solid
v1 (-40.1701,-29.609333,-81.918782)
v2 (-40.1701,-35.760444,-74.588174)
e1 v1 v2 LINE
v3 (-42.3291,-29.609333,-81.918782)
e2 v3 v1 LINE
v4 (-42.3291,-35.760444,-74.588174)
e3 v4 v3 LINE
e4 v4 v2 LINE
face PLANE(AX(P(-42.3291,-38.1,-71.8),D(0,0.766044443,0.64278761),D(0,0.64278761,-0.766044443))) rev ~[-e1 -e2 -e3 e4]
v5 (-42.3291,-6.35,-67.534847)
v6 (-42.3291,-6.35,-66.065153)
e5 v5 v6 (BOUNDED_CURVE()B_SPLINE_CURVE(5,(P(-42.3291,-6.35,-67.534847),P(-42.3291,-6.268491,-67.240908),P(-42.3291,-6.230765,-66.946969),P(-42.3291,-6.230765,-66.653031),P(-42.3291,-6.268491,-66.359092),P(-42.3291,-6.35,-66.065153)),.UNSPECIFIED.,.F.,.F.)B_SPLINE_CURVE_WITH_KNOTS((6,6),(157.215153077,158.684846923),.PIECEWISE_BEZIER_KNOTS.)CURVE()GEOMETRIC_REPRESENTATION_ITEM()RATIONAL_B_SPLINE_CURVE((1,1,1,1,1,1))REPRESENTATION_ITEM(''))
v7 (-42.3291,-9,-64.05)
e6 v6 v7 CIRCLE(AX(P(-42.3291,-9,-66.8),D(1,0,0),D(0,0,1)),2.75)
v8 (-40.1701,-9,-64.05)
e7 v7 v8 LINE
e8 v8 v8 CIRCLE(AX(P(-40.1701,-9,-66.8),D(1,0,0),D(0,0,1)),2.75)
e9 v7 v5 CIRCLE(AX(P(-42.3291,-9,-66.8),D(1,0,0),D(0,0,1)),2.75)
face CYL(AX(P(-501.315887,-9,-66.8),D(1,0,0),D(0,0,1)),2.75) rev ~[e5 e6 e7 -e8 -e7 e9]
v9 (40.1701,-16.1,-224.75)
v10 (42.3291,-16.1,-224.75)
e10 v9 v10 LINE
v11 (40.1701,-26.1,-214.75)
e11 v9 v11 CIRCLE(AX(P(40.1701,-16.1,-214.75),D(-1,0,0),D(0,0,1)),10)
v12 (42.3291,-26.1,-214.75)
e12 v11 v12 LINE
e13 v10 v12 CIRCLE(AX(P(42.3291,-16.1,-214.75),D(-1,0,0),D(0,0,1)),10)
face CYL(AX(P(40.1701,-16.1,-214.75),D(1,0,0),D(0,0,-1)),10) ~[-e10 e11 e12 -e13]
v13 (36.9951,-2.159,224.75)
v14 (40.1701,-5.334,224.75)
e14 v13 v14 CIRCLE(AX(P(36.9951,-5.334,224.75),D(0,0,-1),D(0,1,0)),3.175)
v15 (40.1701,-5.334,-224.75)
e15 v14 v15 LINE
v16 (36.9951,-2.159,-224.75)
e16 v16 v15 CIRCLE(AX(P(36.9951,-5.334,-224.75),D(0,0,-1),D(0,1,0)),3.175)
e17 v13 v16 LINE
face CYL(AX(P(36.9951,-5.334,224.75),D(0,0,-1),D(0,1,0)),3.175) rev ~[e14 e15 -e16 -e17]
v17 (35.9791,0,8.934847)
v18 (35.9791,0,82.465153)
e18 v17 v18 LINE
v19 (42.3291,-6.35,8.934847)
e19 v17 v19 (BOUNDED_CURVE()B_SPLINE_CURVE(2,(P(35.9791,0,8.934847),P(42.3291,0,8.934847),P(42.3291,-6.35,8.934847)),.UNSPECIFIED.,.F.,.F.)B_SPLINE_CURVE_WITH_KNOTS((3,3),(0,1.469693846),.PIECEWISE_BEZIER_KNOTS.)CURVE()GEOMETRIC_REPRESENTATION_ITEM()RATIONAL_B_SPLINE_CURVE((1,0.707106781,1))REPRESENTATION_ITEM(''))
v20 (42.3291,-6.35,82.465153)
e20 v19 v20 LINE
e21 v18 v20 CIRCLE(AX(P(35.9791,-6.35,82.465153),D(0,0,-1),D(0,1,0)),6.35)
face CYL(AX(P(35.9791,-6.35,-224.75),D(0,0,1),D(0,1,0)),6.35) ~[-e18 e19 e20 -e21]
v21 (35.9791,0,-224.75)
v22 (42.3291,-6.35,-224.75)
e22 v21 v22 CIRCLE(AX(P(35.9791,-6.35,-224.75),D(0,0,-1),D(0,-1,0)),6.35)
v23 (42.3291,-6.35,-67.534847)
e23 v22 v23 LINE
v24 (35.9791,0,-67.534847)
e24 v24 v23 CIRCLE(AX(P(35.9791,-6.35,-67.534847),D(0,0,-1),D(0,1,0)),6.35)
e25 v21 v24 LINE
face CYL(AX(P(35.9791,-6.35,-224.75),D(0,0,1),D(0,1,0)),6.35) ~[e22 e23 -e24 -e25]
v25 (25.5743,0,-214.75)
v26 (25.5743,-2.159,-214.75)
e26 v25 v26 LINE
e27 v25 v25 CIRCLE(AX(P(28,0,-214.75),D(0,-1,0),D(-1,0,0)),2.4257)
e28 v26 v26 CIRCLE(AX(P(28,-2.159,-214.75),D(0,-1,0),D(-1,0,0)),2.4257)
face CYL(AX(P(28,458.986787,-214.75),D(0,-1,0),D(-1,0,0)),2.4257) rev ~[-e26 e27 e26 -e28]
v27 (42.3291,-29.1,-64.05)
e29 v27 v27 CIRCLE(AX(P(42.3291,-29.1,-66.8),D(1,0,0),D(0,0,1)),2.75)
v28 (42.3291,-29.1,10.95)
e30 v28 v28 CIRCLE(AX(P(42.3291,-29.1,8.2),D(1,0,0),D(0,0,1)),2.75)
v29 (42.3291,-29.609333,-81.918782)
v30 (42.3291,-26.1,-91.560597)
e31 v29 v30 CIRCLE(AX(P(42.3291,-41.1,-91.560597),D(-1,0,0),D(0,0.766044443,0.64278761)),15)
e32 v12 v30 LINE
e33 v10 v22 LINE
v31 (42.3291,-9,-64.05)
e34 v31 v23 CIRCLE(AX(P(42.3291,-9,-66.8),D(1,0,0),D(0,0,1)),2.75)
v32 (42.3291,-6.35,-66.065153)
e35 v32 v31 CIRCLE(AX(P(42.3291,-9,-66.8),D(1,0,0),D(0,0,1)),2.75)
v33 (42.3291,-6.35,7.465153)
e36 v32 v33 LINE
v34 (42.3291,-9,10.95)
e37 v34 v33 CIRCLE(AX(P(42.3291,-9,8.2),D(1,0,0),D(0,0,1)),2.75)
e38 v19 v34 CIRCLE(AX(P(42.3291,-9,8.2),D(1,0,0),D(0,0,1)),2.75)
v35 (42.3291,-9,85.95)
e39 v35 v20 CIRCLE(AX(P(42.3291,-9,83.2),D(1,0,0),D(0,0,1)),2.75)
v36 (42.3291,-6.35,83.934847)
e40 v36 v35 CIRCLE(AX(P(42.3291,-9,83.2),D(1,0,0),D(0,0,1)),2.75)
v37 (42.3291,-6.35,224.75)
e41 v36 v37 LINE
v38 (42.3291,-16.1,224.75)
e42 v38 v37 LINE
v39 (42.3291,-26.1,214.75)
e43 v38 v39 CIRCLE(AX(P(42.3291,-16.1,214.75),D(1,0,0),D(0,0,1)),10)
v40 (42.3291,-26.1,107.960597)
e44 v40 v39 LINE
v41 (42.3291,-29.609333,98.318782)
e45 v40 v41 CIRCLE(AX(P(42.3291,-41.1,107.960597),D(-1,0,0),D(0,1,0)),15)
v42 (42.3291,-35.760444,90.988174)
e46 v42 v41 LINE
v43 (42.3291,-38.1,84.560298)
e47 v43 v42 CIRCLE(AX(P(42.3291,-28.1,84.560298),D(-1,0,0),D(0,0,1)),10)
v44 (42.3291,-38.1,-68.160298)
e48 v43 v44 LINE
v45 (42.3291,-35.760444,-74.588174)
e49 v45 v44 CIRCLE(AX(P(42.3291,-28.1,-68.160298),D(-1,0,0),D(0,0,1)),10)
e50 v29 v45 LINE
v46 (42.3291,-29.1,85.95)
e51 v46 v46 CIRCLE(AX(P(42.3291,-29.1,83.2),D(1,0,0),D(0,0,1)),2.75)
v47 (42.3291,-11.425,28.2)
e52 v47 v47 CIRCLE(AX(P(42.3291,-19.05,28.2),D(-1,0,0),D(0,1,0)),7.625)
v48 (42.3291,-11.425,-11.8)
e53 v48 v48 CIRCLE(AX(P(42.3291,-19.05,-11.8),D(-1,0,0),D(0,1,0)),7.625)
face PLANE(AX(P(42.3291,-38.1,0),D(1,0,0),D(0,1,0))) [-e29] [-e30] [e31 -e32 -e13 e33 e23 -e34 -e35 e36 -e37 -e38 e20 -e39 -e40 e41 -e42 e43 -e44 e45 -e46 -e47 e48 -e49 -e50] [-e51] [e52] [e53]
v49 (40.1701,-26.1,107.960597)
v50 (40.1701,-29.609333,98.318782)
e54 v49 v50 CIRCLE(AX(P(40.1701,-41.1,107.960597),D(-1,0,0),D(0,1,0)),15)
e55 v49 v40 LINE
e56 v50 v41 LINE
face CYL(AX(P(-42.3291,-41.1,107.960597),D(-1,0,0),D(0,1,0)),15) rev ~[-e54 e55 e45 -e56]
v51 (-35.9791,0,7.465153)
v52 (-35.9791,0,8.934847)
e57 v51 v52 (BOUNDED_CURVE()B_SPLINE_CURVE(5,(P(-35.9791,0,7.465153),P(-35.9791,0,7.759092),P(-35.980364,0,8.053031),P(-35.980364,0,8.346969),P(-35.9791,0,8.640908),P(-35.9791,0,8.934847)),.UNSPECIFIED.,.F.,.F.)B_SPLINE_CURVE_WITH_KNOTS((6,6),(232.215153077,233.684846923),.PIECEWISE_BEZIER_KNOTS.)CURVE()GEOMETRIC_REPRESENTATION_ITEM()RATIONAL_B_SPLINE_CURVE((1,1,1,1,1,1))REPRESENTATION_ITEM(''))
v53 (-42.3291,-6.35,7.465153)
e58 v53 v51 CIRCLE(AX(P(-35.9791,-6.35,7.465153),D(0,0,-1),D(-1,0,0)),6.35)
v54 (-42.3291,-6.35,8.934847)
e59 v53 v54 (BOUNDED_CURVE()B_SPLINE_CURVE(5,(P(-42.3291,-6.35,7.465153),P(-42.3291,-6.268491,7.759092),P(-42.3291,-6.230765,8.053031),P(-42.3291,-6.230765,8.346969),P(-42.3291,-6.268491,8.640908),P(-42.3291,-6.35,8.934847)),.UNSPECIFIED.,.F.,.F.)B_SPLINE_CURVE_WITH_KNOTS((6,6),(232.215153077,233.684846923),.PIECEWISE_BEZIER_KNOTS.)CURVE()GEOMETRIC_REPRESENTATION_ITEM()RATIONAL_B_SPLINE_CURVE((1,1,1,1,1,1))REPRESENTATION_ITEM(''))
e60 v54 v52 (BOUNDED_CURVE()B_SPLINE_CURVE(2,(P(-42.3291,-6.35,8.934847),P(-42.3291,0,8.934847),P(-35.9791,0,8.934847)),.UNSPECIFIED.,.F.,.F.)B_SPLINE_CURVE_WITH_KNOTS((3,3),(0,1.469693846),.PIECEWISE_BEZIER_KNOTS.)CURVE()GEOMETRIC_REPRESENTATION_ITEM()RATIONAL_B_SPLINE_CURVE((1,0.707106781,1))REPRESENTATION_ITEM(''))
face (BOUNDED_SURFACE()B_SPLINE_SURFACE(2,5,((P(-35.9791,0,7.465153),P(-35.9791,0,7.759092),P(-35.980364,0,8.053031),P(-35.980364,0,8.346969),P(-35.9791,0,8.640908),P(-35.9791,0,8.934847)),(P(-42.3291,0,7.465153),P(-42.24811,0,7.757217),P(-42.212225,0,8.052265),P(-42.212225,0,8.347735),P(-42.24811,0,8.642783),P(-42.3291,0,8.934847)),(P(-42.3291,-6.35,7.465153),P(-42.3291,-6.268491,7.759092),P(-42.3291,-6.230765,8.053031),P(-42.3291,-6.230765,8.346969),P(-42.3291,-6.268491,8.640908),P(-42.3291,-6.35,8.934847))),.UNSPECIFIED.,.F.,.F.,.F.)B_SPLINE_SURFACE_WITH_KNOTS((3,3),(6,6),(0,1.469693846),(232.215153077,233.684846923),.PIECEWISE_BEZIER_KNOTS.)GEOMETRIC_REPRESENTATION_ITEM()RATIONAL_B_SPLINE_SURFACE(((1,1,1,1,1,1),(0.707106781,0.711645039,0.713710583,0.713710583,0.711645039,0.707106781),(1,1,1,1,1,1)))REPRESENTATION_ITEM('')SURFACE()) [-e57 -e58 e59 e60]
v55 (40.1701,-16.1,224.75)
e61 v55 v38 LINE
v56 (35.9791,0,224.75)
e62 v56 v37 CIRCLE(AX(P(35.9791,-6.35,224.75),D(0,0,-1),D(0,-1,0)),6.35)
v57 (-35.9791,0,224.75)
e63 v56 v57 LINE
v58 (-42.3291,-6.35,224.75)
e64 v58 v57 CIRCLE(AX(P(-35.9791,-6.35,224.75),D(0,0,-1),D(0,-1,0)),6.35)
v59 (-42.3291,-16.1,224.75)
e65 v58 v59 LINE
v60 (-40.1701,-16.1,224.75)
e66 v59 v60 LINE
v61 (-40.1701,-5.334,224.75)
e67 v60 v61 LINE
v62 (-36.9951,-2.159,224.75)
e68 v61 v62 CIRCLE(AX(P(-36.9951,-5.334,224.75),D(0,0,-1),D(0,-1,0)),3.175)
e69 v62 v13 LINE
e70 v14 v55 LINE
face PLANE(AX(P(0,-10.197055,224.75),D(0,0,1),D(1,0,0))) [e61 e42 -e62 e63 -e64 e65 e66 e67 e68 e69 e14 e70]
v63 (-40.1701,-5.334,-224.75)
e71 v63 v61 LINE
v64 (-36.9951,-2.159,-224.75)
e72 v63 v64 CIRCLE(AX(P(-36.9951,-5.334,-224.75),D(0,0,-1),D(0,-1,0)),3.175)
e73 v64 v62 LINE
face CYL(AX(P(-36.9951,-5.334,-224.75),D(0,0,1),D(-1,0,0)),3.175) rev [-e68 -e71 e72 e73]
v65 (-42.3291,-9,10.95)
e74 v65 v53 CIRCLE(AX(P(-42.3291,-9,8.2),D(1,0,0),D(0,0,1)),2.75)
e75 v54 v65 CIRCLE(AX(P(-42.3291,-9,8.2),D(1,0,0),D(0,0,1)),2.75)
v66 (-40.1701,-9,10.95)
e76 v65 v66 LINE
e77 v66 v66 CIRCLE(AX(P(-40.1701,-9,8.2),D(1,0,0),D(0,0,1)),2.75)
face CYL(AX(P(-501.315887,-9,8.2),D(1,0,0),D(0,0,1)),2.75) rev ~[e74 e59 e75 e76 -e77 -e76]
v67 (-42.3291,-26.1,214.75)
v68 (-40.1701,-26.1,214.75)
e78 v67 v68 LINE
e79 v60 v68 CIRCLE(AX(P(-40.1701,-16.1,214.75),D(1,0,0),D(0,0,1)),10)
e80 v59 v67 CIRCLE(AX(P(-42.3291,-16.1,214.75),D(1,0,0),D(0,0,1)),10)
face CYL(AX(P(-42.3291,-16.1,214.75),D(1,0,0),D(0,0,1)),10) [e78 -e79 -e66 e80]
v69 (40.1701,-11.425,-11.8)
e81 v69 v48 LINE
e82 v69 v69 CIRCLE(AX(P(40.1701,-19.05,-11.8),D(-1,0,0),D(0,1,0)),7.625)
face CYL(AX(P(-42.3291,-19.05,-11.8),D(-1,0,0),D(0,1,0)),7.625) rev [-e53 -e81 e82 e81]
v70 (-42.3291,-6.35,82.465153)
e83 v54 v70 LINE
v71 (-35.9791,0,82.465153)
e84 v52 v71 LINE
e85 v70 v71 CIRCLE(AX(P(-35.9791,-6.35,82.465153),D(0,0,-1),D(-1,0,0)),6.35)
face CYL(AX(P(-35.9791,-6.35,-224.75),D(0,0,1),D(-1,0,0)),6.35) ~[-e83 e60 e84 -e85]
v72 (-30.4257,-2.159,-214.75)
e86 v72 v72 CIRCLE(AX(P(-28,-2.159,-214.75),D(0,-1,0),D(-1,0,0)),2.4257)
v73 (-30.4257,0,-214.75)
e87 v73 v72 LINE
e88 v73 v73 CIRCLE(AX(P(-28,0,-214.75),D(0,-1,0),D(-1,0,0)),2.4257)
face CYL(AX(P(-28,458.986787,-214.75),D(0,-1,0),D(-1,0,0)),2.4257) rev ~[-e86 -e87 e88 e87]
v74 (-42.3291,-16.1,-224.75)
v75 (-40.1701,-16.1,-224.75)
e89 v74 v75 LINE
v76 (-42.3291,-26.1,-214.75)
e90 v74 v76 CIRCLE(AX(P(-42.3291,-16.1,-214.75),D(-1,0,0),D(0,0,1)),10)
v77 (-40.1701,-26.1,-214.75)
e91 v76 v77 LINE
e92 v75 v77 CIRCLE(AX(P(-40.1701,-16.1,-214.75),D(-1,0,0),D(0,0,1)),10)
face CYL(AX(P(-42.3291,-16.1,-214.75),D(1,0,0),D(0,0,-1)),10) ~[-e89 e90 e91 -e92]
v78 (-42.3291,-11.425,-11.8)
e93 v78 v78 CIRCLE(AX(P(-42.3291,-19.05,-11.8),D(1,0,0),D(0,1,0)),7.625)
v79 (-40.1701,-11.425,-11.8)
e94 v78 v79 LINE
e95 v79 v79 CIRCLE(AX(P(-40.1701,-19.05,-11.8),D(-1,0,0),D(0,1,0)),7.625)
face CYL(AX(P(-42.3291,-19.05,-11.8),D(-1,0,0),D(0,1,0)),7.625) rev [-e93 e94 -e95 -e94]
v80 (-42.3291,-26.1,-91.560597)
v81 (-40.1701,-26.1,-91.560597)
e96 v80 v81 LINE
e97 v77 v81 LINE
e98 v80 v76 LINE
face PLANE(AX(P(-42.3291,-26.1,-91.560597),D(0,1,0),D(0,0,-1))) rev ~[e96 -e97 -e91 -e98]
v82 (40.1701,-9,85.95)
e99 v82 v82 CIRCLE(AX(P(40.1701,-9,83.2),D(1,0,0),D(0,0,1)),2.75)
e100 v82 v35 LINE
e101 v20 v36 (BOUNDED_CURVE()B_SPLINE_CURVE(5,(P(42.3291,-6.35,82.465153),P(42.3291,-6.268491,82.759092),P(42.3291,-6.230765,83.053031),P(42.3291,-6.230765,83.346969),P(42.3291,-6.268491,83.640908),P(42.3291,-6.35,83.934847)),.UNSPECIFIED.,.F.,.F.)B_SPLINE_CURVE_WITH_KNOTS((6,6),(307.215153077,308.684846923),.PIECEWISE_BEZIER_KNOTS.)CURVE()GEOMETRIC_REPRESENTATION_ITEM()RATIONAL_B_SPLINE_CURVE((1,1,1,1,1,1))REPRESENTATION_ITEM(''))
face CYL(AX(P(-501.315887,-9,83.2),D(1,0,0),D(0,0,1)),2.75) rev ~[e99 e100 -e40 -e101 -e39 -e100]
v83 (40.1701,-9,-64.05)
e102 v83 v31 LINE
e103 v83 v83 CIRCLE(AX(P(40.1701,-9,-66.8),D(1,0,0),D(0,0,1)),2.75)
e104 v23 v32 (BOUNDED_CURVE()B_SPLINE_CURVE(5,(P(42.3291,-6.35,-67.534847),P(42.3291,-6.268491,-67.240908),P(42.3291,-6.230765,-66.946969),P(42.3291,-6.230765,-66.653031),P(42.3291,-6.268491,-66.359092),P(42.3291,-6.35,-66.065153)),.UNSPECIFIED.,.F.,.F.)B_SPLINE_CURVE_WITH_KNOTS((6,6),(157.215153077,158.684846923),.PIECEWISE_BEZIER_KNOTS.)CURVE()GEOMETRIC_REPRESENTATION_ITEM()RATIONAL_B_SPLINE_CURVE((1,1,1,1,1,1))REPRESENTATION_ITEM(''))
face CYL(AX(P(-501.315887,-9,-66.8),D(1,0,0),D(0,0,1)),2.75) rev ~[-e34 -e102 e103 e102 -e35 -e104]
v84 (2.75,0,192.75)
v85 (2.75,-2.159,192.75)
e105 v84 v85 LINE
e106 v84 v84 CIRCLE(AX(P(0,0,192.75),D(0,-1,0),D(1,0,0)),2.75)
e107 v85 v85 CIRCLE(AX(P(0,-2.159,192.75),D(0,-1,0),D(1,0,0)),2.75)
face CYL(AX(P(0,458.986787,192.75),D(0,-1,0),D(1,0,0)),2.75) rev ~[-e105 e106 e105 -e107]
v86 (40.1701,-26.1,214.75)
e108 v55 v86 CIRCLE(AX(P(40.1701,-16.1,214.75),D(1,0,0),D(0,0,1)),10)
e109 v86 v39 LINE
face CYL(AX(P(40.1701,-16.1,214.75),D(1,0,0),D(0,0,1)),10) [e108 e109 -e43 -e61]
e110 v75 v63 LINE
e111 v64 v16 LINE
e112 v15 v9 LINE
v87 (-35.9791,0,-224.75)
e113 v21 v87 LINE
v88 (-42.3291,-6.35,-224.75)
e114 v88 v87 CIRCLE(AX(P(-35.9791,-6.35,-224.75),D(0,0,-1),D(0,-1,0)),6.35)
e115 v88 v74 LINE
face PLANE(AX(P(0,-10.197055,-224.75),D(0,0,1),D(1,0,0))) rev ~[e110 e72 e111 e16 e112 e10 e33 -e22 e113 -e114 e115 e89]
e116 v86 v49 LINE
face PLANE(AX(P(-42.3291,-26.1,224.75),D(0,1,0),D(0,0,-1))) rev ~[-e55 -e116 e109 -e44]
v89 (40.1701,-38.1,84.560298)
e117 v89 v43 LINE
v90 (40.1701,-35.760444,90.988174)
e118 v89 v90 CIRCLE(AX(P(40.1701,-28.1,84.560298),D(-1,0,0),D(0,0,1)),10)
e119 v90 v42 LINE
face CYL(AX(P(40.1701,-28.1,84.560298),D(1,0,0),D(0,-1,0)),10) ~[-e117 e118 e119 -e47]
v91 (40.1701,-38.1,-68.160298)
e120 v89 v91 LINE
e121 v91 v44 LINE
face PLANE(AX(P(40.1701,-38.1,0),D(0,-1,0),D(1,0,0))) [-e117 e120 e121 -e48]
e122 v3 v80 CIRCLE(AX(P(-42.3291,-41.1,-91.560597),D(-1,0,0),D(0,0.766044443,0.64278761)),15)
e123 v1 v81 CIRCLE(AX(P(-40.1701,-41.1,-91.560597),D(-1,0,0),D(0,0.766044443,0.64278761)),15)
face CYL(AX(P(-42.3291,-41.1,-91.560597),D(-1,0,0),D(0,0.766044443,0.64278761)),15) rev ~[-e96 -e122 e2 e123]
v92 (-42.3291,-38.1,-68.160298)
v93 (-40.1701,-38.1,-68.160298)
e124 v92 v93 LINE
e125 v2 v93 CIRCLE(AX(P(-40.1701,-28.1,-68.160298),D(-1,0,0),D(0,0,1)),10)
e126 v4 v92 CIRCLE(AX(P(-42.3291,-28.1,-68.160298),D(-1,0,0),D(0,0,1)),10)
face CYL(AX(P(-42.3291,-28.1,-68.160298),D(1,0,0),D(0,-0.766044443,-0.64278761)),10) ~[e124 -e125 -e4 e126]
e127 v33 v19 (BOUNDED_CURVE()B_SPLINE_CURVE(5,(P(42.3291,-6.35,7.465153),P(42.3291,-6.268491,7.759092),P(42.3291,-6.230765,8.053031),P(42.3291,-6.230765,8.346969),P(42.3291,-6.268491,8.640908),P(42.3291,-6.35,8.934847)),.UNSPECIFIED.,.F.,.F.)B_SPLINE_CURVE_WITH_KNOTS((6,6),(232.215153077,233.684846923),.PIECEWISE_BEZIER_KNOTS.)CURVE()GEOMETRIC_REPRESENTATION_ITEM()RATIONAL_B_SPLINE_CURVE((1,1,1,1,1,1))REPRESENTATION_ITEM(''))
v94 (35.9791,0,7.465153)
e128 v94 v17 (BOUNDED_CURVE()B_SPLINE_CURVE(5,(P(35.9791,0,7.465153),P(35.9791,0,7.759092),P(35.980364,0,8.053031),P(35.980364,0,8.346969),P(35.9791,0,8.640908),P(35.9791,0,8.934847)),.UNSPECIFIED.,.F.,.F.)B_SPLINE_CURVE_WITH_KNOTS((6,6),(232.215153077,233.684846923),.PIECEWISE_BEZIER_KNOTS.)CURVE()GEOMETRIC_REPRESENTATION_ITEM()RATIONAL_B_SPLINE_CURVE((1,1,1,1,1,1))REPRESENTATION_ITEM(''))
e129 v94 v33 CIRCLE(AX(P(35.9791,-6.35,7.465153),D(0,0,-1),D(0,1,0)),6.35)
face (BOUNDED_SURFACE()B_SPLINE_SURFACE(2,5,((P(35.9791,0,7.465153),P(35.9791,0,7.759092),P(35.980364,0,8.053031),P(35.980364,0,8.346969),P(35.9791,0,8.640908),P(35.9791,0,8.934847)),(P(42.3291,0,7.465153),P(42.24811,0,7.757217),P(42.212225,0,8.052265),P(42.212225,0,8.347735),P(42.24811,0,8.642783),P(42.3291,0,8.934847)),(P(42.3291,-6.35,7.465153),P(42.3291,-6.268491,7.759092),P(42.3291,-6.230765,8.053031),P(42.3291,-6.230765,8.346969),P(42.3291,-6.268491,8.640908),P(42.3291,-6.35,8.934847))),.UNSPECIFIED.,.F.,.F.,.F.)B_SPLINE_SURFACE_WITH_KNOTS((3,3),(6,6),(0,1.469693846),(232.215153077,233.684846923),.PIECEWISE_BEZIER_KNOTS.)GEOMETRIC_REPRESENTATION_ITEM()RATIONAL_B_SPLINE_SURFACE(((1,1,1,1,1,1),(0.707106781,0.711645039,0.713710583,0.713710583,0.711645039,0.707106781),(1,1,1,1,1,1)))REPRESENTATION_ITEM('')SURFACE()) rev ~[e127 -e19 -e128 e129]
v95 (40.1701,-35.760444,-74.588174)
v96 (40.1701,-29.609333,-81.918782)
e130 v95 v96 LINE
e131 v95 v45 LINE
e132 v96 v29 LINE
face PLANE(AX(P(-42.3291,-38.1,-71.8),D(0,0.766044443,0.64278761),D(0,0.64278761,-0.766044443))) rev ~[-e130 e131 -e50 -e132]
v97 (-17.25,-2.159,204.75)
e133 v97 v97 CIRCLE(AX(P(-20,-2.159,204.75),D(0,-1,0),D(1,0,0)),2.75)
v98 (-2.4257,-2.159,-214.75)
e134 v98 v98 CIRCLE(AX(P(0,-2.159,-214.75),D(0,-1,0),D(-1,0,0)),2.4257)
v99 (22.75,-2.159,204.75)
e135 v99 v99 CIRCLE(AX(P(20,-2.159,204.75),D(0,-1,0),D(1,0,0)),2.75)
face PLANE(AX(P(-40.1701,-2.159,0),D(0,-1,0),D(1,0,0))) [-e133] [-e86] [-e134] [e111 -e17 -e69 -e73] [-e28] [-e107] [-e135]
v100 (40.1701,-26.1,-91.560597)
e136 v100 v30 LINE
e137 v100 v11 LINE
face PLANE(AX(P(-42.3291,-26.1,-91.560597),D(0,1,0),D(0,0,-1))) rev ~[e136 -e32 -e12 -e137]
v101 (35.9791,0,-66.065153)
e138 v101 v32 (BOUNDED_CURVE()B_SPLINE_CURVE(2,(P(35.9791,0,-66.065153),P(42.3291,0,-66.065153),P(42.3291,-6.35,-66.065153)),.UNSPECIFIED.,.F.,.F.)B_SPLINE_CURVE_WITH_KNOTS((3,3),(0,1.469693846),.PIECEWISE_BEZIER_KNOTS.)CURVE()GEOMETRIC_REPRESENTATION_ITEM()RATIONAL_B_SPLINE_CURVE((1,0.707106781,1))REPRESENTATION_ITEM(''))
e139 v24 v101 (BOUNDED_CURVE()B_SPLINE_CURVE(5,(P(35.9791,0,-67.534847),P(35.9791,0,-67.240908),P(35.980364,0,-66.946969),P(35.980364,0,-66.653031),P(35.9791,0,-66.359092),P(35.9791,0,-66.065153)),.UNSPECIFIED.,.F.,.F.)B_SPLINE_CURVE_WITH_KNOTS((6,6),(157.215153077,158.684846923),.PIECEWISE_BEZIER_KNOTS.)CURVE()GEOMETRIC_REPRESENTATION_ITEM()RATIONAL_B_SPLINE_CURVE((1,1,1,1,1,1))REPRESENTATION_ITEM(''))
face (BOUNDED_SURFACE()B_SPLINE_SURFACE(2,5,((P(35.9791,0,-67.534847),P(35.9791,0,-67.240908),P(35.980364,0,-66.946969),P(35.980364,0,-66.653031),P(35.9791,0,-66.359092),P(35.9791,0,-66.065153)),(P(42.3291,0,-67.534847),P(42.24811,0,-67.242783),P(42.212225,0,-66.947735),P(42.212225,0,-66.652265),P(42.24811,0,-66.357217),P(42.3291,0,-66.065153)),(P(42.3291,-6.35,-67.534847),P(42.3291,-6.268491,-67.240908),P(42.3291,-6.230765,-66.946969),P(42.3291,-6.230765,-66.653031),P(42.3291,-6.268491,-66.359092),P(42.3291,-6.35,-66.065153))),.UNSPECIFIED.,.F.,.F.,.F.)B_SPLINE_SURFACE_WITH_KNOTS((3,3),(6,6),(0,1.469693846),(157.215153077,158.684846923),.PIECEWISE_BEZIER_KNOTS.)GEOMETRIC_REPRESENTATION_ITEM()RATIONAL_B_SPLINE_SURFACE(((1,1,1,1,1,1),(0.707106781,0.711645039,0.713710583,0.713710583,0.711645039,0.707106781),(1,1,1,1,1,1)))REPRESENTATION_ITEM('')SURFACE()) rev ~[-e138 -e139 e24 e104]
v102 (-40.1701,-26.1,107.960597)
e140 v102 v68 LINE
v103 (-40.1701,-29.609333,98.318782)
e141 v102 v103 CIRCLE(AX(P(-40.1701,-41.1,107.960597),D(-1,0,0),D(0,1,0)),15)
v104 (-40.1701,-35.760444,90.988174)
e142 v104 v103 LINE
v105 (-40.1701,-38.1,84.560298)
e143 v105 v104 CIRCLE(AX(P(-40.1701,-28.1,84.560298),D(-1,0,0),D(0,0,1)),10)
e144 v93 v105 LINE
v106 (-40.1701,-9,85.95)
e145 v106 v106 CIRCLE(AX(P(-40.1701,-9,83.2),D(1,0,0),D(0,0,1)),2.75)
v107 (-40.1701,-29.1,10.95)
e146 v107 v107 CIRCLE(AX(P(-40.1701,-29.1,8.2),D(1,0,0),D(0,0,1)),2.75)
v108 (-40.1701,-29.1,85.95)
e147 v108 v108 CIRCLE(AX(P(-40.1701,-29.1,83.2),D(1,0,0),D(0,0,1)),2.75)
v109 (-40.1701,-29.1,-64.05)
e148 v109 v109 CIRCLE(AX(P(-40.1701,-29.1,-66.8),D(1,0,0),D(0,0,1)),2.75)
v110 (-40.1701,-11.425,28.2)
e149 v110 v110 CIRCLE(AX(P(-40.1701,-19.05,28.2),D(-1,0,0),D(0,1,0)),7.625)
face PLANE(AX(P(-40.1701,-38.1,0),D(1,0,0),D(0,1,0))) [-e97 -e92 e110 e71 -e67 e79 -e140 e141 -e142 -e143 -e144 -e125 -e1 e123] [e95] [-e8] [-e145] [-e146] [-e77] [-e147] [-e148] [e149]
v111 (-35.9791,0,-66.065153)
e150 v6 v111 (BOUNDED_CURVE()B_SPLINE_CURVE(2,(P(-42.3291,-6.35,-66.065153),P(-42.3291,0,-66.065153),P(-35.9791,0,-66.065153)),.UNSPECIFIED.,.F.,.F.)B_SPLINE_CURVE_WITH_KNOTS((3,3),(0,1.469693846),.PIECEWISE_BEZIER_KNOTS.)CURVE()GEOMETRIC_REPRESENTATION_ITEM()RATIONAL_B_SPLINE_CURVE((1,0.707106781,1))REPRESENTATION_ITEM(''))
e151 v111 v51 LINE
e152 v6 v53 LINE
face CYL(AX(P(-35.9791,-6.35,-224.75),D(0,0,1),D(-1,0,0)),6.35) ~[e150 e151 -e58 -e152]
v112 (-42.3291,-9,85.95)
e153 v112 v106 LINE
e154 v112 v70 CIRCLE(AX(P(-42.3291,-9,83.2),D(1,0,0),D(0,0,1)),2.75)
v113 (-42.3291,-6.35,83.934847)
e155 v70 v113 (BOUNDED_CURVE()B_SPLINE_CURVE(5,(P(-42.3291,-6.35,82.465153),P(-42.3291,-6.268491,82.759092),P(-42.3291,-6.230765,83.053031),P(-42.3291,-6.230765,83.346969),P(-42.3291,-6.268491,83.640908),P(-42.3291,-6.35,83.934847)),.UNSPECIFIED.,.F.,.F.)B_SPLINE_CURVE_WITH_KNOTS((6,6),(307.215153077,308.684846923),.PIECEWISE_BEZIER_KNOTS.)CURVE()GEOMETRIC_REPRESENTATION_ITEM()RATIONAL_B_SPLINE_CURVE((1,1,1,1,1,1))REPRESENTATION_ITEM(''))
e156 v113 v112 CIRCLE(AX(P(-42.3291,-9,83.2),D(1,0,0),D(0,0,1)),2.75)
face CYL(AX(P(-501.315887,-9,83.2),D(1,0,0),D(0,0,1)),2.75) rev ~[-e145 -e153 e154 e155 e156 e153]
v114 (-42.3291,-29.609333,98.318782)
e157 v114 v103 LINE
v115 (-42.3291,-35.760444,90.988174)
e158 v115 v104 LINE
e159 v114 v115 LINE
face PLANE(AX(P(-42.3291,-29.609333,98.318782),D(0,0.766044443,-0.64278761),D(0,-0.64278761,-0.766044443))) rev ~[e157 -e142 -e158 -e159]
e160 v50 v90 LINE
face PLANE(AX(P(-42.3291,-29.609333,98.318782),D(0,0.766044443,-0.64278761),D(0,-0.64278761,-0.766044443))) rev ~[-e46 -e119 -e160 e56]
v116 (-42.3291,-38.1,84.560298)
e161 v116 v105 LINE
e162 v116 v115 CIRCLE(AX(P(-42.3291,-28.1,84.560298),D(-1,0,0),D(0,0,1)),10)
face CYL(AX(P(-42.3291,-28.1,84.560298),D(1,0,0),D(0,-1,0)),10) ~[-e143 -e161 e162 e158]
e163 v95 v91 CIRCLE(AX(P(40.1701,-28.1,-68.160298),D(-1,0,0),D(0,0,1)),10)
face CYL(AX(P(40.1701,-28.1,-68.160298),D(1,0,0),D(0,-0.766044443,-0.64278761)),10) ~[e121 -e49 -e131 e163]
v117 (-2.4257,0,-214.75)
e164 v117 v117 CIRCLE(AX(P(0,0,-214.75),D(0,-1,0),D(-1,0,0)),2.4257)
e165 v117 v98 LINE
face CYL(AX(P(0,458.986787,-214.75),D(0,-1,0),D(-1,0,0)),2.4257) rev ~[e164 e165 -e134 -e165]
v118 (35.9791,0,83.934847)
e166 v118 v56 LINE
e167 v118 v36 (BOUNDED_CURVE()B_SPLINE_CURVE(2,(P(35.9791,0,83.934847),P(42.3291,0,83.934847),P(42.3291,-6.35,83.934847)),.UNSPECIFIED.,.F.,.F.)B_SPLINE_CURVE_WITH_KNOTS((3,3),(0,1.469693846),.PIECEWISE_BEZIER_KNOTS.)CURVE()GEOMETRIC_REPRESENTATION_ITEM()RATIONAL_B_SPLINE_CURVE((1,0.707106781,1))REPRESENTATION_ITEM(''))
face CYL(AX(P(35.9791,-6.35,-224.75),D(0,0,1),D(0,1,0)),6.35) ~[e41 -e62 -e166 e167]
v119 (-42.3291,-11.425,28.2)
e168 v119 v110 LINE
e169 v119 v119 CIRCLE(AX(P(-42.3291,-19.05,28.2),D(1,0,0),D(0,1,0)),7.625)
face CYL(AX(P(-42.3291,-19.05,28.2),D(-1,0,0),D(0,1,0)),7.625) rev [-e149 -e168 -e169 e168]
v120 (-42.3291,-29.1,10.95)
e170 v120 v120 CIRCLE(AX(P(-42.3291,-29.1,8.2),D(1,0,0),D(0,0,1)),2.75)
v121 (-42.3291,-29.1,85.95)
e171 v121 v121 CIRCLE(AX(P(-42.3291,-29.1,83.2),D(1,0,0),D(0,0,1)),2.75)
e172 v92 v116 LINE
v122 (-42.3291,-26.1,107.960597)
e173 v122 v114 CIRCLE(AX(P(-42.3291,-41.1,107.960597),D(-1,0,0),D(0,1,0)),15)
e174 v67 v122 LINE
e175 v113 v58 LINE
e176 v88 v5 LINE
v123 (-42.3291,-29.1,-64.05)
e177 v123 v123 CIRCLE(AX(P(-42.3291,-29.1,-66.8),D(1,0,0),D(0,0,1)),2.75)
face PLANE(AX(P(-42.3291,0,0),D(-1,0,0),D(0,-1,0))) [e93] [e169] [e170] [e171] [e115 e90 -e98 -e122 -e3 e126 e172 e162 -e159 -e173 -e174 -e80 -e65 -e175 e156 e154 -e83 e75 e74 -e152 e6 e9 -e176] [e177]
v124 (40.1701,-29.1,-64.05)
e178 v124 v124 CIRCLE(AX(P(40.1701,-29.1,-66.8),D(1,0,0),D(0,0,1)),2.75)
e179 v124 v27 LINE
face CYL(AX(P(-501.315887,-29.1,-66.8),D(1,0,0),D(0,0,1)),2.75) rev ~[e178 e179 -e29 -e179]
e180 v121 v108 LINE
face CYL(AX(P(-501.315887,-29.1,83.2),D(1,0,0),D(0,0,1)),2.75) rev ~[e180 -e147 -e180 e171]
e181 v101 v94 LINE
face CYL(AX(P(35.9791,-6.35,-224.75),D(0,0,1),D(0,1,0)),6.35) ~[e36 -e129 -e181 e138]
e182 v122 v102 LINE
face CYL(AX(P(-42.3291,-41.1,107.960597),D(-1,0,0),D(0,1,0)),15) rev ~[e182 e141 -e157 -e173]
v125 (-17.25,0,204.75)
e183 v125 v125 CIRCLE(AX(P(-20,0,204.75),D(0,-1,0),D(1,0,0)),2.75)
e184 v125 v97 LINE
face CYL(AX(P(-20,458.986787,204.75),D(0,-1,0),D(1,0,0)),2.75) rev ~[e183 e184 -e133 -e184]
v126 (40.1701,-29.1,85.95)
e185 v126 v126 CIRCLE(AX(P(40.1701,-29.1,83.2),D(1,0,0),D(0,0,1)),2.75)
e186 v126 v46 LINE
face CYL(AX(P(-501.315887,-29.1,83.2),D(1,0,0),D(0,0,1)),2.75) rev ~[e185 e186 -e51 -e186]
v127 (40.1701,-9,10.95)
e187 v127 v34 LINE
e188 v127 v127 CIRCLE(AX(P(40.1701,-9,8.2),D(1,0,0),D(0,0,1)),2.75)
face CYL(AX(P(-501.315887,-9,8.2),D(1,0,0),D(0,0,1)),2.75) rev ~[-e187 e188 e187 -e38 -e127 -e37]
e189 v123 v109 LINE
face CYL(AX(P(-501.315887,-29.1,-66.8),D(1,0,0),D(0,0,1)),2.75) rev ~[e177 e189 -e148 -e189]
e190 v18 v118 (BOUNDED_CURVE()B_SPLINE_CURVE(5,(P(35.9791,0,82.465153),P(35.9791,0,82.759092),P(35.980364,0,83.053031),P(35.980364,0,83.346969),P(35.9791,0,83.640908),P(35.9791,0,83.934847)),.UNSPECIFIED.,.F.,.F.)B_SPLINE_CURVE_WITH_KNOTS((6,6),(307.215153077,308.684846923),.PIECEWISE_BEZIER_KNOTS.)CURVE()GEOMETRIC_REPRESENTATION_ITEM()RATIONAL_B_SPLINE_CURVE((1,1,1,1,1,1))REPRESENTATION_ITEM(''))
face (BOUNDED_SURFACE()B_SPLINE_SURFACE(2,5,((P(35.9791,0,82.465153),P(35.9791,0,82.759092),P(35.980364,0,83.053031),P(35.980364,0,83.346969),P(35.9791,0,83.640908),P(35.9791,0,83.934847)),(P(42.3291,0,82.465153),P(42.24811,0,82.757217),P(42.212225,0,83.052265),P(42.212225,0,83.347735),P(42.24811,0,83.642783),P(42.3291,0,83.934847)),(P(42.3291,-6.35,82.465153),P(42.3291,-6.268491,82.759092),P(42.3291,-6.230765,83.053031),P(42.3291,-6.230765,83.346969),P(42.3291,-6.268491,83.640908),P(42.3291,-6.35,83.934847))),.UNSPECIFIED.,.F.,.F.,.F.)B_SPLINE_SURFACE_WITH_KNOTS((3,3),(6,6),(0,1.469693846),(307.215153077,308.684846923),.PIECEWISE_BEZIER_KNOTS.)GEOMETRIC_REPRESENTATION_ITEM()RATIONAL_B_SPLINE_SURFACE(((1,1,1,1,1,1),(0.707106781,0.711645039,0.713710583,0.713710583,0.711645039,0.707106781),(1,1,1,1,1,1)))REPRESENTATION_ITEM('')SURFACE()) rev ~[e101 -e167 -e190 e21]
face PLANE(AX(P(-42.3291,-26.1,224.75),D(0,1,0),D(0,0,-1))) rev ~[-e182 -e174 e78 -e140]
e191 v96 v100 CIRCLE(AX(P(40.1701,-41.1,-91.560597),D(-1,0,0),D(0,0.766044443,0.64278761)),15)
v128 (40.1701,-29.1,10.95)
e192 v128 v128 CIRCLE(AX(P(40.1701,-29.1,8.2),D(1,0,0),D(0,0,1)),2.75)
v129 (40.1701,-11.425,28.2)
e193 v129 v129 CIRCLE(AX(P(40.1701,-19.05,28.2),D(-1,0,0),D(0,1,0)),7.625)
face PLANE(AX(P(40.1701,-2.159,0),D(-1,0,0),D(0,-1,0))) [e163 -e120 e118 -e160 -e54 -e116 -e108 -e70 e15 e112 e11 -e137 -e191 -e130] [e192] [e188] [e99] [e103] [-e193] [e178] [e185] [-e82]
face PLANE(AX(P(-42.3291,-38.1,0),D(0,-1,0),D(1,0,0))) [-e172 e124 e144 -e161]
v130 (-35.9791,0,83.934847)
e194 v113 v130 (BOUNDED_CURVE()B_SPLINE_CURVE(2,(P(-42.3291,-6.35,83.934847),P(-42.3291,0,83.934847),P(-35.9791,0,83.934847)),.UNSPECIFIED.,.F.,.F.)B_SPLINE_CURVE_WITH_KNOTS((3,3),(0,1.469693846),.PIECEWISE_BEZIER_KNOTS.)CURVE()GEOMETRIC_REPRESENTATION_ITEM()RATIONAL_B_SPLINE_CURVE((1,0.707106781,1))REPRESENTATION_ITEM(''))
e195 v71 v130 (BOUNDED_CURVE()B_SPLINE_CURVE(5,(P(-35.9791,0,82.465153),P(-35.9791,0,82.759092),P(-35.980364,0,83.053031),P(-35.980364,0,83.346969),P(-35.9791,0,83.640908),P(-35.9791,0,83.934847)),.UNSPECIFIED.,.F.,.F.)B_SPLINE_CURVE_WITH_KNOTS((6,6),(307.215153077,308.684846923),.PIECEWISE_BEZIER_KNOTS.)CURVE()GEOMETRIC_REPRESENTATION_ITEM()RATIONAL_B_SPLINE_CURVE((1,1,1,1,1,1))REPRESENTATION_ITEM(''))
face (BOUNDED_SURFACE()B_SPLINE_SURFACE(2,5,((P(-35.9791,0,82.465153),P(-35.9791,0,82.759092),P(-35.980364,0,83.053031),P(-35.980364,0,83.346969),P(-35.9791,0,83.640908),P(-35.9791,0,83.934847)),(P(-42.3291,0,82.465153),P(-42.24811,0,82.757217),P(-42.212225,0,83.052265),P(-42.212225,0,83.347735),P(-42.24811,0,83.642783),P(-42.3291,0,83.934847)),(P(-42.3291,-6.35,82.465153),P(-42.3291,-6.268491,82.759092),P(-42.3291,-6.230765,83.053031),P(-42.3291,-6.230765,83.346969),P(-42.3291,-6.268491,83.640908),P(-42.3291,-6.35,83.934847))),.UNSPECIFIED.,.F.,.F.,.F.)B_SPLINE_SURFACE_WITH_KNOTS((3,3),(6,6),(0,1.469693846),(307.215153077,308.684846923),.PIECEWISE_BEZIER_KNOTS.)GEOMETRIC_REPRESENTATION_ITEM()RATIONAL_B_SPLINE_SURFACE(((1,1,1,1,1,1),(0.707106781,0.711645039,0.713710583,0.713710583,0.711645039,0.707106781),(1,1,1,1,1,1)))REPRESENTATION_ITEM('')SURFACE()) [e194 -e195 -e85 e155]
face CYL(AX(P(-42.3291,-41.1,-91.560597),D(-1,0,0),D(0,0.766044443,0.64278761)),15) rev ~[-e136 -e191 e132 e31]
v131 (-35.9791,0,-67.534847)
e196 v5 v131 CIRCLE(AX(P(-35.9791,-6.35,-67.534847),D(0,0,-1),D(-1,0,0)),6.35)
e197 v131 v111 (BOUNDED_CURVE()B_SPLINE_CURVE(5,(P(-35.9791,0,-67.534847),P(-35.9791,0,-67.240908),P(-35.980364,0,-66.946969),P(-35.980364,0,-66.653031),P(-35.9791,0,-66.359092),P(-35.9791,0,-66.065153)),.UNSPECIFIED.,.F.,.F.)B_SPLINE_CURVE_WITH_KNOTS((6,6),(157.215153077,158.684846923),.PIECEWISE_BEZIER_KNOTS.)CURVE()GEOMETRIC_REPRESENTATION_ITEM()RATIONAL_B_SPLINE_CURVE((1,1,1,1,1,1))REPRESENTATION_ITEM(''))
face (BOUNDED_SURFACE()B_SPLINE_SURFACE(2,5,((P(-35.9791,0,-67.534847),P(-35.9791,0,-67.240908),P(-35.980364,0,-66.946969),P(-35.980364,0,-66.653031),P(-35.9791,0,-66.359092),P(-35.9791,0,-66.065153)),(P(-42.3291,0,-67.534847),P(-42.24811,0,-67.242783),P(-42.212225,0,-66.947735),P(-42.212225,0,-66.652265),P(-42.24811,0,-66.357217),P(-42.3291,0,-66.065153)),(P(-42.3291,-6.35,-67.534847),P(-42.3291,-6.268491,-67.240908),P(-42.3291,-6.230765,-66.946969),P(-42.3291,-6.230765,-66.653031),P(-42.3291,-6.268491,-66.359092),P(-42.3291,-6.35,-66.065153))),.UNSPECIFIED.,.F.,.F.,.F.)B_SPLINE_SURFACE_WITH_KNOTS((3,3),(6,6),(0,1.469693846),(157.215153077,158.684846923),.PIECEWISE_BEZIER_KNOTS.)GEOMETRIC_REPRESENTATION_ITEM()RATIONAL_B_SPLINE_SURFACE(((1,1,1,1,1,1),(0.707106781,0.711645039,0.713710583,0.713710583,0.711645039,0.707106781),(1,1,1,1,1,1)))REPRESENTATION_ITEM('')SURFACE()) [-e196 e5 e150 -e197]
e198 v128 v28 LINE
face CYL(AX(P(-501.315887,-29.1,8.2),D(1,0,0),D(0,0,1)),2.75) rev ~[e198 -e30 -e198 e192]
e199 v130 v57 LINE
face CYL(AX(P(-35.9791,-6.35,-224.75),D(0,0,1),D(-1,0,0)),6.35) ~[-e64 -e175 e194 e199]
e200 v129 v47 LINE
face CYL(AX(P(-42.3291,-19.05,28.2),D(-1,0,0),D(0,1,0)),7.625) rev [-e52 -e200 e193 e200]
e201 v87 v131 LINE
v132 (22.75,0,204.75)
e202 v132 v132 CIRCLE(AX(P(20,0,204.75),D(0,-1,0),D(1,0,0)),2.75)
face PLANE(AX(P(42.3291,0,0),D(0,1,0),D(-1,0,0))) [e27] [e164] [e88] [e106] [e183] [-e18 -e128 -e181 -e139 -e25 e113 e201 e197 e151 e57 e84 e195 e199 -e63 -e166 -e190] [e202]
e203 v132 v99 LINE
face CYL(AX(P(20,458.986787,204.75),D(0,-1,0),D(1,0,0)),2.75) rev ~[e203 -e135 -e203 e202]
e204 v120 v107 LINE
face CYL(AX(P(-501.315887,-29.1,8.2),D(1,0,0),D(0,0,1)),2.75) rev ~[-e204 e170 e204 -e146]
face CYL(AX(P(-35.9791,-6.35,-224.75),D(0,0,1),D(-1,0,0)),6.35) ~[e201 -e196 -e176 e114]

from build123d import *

# Parameters (mm, degrees)
BOSS_EXTRUDE1_DEPTH         = 224.75
F_11_0_191_DIAMETER_HOLE1_D = 4.8514
M5_CLEARANCE_HOLE2_D        = 5.5
M5_CLEARANCE_HOLE1_D        = 5.5
SKETCH11_R                  = 7.625
CUT_EXTRUDE1_DEPTH          = 244.169042699
FILLET1_R                   = 3.175
FILLET2_R                   = 6.35
CUT_EXTRUDE3_DEPTH          = 244.169042826
FILLET3_R                   = 10


with BuildPart() as part:
    # Sketch1 → Boss-Extrude1 (new, symmetric)
    with BuildSketch(Plane.XY):
        Polygon((42.3291, -38.1), (42.3291, 0), (-42.3291, 0), (-42.3291, -38.1), (-40.1701, -38.1), (-40.1701, -2.159), (40.1701, -2.159), (40.1701, -38.1), align=None)
    extrude(amount=BOSS_EXTRUDE1_DEPTH, both=True)

    # #11 (0.191) Diameter Hole1 (through all)
    with Locations(Plane(origin=(0, 0, 0), x_dir=(1, 0, 0), z_dir=(0, 1, 0))):
        with Locations((28, 214.75), (-28, 214.75), (0, 214.75)):
            Hole(F_11_0_191_DIAMETER_HOLE1_D / 2)

    # M5 Clearance Hole2 (through all)
    with Locations(Plane(origin=(0, 0, 0), x_dir=(-1, 0, 0), z_dir=(0, 1, 0))):
        with Locations((0, 192.75), (-20, 204.75), (20, 204.75)):
            Hole(M5_CLEARANCE_HOLE2_D / 2)

    # M5 Clearance Hole1 (through all)
    with Locations(Plane(origin=(-42.3291, 0, 0), x_dir=(0, 0, -1), z_dir=(-1, 0, 0))):
        with Locations((66.8, 29.1), (66.8, 9), (-8.2, 29.1), (-8.2, 9), (-83.2, 29.1), (-83.2, 9)):
            Hole(M5_CLEARANCE_HOLE1_D / 2)

    # Sketch11 → Cut-Extrude1 (cut, through all)
    with BuildSketch(Plane(origin=(-42.3291, 0, 0), x_dir=(0, 0, -1), z_dir=(1, 0, 0))):
        with Locations((-28.2, -19.05)):
            Circle(SKETCH11_R)
        with Locations((11.8, -19.05)):
            Circle(SKETCH11_R)
    extrude(amount=CUT_EXTRUDE1_DEPTH, mode=Mode.SUBTRACT)

    # Fillet1
    fillet1_edges = [part.edges().sort_by_distance(p)[0] for p in [
        (-40.1701, -2.159, 0),
        (40.1701, -2.159, 0),
    ]]
    fillet(fillet1_edges, radius=FILLET1_R)

    # Fillet2
    fillet2_edges = [part.edges().sort_by_distance(p)[0] for p in [
        (-42.3291, 0, 0),
        (42.3291, 0, 0),
    ]]
    fillet(fillet2_edges, radius=FILLET2_R)

    # Sketch13 → Cut-Extrude3 (cut, through all)
    with BuildSketch(Plane.ZY.offset(42.3291)):
        with BuildLine():
            Line((-71.8, -38.1), (-81.91878248, -29.609333353))
            ThreePointArc((-81.91878248, -29.609333353), (-86.430294475, -27.004610688), (-91.560596625, -26.1))
            Line((-91.560596625, -26.1), (-224.75, -26.1))
            Line((-224.75, -26.1), (-224.75, -38.1))
            Line((-224.75, -38.1), (-71.8, -38.1))
        make_face()
        with BuildLine():
            Line((88.2, -38.1), (224.75, -38.1))
            Line((224.75, -38.1), (224.75, -26.1))
            Line((224.75, -26.1), (107.960596625, -26.1))
            ThreePointArc((107.960596625, -26.1), (102.830294475, -27.004610688), (98.31878248, -29.609333353))
            Line((98.31878248, -29.609333353), (88.2, -38.1))
        make_face()
    extrude(amount=-CUT_EXTRUDE3_DEPTH, mode=Mode.SUBTRACT)

    # Fillet3
    fillet3_edges = [part.edges().sort_by_distance(p)[0] for p in [
        (-41.2496, -38.1, -71.8),
        (41.2496, -38.1, -71.8),
        (41.2496, -38.1, 88.2),
        (-41.2496, -38.1, 88.2),
        (-41.2496, -26.1, -224.75),
        (41.2496, -26.1, -224.75),
        (-41.2496, -26.1, 224.75),
        (41.2496, -26.1, 224.75),
    ]]
    fillet(fillet3_edges, radius=FILLET3_R)


solid = part.part
